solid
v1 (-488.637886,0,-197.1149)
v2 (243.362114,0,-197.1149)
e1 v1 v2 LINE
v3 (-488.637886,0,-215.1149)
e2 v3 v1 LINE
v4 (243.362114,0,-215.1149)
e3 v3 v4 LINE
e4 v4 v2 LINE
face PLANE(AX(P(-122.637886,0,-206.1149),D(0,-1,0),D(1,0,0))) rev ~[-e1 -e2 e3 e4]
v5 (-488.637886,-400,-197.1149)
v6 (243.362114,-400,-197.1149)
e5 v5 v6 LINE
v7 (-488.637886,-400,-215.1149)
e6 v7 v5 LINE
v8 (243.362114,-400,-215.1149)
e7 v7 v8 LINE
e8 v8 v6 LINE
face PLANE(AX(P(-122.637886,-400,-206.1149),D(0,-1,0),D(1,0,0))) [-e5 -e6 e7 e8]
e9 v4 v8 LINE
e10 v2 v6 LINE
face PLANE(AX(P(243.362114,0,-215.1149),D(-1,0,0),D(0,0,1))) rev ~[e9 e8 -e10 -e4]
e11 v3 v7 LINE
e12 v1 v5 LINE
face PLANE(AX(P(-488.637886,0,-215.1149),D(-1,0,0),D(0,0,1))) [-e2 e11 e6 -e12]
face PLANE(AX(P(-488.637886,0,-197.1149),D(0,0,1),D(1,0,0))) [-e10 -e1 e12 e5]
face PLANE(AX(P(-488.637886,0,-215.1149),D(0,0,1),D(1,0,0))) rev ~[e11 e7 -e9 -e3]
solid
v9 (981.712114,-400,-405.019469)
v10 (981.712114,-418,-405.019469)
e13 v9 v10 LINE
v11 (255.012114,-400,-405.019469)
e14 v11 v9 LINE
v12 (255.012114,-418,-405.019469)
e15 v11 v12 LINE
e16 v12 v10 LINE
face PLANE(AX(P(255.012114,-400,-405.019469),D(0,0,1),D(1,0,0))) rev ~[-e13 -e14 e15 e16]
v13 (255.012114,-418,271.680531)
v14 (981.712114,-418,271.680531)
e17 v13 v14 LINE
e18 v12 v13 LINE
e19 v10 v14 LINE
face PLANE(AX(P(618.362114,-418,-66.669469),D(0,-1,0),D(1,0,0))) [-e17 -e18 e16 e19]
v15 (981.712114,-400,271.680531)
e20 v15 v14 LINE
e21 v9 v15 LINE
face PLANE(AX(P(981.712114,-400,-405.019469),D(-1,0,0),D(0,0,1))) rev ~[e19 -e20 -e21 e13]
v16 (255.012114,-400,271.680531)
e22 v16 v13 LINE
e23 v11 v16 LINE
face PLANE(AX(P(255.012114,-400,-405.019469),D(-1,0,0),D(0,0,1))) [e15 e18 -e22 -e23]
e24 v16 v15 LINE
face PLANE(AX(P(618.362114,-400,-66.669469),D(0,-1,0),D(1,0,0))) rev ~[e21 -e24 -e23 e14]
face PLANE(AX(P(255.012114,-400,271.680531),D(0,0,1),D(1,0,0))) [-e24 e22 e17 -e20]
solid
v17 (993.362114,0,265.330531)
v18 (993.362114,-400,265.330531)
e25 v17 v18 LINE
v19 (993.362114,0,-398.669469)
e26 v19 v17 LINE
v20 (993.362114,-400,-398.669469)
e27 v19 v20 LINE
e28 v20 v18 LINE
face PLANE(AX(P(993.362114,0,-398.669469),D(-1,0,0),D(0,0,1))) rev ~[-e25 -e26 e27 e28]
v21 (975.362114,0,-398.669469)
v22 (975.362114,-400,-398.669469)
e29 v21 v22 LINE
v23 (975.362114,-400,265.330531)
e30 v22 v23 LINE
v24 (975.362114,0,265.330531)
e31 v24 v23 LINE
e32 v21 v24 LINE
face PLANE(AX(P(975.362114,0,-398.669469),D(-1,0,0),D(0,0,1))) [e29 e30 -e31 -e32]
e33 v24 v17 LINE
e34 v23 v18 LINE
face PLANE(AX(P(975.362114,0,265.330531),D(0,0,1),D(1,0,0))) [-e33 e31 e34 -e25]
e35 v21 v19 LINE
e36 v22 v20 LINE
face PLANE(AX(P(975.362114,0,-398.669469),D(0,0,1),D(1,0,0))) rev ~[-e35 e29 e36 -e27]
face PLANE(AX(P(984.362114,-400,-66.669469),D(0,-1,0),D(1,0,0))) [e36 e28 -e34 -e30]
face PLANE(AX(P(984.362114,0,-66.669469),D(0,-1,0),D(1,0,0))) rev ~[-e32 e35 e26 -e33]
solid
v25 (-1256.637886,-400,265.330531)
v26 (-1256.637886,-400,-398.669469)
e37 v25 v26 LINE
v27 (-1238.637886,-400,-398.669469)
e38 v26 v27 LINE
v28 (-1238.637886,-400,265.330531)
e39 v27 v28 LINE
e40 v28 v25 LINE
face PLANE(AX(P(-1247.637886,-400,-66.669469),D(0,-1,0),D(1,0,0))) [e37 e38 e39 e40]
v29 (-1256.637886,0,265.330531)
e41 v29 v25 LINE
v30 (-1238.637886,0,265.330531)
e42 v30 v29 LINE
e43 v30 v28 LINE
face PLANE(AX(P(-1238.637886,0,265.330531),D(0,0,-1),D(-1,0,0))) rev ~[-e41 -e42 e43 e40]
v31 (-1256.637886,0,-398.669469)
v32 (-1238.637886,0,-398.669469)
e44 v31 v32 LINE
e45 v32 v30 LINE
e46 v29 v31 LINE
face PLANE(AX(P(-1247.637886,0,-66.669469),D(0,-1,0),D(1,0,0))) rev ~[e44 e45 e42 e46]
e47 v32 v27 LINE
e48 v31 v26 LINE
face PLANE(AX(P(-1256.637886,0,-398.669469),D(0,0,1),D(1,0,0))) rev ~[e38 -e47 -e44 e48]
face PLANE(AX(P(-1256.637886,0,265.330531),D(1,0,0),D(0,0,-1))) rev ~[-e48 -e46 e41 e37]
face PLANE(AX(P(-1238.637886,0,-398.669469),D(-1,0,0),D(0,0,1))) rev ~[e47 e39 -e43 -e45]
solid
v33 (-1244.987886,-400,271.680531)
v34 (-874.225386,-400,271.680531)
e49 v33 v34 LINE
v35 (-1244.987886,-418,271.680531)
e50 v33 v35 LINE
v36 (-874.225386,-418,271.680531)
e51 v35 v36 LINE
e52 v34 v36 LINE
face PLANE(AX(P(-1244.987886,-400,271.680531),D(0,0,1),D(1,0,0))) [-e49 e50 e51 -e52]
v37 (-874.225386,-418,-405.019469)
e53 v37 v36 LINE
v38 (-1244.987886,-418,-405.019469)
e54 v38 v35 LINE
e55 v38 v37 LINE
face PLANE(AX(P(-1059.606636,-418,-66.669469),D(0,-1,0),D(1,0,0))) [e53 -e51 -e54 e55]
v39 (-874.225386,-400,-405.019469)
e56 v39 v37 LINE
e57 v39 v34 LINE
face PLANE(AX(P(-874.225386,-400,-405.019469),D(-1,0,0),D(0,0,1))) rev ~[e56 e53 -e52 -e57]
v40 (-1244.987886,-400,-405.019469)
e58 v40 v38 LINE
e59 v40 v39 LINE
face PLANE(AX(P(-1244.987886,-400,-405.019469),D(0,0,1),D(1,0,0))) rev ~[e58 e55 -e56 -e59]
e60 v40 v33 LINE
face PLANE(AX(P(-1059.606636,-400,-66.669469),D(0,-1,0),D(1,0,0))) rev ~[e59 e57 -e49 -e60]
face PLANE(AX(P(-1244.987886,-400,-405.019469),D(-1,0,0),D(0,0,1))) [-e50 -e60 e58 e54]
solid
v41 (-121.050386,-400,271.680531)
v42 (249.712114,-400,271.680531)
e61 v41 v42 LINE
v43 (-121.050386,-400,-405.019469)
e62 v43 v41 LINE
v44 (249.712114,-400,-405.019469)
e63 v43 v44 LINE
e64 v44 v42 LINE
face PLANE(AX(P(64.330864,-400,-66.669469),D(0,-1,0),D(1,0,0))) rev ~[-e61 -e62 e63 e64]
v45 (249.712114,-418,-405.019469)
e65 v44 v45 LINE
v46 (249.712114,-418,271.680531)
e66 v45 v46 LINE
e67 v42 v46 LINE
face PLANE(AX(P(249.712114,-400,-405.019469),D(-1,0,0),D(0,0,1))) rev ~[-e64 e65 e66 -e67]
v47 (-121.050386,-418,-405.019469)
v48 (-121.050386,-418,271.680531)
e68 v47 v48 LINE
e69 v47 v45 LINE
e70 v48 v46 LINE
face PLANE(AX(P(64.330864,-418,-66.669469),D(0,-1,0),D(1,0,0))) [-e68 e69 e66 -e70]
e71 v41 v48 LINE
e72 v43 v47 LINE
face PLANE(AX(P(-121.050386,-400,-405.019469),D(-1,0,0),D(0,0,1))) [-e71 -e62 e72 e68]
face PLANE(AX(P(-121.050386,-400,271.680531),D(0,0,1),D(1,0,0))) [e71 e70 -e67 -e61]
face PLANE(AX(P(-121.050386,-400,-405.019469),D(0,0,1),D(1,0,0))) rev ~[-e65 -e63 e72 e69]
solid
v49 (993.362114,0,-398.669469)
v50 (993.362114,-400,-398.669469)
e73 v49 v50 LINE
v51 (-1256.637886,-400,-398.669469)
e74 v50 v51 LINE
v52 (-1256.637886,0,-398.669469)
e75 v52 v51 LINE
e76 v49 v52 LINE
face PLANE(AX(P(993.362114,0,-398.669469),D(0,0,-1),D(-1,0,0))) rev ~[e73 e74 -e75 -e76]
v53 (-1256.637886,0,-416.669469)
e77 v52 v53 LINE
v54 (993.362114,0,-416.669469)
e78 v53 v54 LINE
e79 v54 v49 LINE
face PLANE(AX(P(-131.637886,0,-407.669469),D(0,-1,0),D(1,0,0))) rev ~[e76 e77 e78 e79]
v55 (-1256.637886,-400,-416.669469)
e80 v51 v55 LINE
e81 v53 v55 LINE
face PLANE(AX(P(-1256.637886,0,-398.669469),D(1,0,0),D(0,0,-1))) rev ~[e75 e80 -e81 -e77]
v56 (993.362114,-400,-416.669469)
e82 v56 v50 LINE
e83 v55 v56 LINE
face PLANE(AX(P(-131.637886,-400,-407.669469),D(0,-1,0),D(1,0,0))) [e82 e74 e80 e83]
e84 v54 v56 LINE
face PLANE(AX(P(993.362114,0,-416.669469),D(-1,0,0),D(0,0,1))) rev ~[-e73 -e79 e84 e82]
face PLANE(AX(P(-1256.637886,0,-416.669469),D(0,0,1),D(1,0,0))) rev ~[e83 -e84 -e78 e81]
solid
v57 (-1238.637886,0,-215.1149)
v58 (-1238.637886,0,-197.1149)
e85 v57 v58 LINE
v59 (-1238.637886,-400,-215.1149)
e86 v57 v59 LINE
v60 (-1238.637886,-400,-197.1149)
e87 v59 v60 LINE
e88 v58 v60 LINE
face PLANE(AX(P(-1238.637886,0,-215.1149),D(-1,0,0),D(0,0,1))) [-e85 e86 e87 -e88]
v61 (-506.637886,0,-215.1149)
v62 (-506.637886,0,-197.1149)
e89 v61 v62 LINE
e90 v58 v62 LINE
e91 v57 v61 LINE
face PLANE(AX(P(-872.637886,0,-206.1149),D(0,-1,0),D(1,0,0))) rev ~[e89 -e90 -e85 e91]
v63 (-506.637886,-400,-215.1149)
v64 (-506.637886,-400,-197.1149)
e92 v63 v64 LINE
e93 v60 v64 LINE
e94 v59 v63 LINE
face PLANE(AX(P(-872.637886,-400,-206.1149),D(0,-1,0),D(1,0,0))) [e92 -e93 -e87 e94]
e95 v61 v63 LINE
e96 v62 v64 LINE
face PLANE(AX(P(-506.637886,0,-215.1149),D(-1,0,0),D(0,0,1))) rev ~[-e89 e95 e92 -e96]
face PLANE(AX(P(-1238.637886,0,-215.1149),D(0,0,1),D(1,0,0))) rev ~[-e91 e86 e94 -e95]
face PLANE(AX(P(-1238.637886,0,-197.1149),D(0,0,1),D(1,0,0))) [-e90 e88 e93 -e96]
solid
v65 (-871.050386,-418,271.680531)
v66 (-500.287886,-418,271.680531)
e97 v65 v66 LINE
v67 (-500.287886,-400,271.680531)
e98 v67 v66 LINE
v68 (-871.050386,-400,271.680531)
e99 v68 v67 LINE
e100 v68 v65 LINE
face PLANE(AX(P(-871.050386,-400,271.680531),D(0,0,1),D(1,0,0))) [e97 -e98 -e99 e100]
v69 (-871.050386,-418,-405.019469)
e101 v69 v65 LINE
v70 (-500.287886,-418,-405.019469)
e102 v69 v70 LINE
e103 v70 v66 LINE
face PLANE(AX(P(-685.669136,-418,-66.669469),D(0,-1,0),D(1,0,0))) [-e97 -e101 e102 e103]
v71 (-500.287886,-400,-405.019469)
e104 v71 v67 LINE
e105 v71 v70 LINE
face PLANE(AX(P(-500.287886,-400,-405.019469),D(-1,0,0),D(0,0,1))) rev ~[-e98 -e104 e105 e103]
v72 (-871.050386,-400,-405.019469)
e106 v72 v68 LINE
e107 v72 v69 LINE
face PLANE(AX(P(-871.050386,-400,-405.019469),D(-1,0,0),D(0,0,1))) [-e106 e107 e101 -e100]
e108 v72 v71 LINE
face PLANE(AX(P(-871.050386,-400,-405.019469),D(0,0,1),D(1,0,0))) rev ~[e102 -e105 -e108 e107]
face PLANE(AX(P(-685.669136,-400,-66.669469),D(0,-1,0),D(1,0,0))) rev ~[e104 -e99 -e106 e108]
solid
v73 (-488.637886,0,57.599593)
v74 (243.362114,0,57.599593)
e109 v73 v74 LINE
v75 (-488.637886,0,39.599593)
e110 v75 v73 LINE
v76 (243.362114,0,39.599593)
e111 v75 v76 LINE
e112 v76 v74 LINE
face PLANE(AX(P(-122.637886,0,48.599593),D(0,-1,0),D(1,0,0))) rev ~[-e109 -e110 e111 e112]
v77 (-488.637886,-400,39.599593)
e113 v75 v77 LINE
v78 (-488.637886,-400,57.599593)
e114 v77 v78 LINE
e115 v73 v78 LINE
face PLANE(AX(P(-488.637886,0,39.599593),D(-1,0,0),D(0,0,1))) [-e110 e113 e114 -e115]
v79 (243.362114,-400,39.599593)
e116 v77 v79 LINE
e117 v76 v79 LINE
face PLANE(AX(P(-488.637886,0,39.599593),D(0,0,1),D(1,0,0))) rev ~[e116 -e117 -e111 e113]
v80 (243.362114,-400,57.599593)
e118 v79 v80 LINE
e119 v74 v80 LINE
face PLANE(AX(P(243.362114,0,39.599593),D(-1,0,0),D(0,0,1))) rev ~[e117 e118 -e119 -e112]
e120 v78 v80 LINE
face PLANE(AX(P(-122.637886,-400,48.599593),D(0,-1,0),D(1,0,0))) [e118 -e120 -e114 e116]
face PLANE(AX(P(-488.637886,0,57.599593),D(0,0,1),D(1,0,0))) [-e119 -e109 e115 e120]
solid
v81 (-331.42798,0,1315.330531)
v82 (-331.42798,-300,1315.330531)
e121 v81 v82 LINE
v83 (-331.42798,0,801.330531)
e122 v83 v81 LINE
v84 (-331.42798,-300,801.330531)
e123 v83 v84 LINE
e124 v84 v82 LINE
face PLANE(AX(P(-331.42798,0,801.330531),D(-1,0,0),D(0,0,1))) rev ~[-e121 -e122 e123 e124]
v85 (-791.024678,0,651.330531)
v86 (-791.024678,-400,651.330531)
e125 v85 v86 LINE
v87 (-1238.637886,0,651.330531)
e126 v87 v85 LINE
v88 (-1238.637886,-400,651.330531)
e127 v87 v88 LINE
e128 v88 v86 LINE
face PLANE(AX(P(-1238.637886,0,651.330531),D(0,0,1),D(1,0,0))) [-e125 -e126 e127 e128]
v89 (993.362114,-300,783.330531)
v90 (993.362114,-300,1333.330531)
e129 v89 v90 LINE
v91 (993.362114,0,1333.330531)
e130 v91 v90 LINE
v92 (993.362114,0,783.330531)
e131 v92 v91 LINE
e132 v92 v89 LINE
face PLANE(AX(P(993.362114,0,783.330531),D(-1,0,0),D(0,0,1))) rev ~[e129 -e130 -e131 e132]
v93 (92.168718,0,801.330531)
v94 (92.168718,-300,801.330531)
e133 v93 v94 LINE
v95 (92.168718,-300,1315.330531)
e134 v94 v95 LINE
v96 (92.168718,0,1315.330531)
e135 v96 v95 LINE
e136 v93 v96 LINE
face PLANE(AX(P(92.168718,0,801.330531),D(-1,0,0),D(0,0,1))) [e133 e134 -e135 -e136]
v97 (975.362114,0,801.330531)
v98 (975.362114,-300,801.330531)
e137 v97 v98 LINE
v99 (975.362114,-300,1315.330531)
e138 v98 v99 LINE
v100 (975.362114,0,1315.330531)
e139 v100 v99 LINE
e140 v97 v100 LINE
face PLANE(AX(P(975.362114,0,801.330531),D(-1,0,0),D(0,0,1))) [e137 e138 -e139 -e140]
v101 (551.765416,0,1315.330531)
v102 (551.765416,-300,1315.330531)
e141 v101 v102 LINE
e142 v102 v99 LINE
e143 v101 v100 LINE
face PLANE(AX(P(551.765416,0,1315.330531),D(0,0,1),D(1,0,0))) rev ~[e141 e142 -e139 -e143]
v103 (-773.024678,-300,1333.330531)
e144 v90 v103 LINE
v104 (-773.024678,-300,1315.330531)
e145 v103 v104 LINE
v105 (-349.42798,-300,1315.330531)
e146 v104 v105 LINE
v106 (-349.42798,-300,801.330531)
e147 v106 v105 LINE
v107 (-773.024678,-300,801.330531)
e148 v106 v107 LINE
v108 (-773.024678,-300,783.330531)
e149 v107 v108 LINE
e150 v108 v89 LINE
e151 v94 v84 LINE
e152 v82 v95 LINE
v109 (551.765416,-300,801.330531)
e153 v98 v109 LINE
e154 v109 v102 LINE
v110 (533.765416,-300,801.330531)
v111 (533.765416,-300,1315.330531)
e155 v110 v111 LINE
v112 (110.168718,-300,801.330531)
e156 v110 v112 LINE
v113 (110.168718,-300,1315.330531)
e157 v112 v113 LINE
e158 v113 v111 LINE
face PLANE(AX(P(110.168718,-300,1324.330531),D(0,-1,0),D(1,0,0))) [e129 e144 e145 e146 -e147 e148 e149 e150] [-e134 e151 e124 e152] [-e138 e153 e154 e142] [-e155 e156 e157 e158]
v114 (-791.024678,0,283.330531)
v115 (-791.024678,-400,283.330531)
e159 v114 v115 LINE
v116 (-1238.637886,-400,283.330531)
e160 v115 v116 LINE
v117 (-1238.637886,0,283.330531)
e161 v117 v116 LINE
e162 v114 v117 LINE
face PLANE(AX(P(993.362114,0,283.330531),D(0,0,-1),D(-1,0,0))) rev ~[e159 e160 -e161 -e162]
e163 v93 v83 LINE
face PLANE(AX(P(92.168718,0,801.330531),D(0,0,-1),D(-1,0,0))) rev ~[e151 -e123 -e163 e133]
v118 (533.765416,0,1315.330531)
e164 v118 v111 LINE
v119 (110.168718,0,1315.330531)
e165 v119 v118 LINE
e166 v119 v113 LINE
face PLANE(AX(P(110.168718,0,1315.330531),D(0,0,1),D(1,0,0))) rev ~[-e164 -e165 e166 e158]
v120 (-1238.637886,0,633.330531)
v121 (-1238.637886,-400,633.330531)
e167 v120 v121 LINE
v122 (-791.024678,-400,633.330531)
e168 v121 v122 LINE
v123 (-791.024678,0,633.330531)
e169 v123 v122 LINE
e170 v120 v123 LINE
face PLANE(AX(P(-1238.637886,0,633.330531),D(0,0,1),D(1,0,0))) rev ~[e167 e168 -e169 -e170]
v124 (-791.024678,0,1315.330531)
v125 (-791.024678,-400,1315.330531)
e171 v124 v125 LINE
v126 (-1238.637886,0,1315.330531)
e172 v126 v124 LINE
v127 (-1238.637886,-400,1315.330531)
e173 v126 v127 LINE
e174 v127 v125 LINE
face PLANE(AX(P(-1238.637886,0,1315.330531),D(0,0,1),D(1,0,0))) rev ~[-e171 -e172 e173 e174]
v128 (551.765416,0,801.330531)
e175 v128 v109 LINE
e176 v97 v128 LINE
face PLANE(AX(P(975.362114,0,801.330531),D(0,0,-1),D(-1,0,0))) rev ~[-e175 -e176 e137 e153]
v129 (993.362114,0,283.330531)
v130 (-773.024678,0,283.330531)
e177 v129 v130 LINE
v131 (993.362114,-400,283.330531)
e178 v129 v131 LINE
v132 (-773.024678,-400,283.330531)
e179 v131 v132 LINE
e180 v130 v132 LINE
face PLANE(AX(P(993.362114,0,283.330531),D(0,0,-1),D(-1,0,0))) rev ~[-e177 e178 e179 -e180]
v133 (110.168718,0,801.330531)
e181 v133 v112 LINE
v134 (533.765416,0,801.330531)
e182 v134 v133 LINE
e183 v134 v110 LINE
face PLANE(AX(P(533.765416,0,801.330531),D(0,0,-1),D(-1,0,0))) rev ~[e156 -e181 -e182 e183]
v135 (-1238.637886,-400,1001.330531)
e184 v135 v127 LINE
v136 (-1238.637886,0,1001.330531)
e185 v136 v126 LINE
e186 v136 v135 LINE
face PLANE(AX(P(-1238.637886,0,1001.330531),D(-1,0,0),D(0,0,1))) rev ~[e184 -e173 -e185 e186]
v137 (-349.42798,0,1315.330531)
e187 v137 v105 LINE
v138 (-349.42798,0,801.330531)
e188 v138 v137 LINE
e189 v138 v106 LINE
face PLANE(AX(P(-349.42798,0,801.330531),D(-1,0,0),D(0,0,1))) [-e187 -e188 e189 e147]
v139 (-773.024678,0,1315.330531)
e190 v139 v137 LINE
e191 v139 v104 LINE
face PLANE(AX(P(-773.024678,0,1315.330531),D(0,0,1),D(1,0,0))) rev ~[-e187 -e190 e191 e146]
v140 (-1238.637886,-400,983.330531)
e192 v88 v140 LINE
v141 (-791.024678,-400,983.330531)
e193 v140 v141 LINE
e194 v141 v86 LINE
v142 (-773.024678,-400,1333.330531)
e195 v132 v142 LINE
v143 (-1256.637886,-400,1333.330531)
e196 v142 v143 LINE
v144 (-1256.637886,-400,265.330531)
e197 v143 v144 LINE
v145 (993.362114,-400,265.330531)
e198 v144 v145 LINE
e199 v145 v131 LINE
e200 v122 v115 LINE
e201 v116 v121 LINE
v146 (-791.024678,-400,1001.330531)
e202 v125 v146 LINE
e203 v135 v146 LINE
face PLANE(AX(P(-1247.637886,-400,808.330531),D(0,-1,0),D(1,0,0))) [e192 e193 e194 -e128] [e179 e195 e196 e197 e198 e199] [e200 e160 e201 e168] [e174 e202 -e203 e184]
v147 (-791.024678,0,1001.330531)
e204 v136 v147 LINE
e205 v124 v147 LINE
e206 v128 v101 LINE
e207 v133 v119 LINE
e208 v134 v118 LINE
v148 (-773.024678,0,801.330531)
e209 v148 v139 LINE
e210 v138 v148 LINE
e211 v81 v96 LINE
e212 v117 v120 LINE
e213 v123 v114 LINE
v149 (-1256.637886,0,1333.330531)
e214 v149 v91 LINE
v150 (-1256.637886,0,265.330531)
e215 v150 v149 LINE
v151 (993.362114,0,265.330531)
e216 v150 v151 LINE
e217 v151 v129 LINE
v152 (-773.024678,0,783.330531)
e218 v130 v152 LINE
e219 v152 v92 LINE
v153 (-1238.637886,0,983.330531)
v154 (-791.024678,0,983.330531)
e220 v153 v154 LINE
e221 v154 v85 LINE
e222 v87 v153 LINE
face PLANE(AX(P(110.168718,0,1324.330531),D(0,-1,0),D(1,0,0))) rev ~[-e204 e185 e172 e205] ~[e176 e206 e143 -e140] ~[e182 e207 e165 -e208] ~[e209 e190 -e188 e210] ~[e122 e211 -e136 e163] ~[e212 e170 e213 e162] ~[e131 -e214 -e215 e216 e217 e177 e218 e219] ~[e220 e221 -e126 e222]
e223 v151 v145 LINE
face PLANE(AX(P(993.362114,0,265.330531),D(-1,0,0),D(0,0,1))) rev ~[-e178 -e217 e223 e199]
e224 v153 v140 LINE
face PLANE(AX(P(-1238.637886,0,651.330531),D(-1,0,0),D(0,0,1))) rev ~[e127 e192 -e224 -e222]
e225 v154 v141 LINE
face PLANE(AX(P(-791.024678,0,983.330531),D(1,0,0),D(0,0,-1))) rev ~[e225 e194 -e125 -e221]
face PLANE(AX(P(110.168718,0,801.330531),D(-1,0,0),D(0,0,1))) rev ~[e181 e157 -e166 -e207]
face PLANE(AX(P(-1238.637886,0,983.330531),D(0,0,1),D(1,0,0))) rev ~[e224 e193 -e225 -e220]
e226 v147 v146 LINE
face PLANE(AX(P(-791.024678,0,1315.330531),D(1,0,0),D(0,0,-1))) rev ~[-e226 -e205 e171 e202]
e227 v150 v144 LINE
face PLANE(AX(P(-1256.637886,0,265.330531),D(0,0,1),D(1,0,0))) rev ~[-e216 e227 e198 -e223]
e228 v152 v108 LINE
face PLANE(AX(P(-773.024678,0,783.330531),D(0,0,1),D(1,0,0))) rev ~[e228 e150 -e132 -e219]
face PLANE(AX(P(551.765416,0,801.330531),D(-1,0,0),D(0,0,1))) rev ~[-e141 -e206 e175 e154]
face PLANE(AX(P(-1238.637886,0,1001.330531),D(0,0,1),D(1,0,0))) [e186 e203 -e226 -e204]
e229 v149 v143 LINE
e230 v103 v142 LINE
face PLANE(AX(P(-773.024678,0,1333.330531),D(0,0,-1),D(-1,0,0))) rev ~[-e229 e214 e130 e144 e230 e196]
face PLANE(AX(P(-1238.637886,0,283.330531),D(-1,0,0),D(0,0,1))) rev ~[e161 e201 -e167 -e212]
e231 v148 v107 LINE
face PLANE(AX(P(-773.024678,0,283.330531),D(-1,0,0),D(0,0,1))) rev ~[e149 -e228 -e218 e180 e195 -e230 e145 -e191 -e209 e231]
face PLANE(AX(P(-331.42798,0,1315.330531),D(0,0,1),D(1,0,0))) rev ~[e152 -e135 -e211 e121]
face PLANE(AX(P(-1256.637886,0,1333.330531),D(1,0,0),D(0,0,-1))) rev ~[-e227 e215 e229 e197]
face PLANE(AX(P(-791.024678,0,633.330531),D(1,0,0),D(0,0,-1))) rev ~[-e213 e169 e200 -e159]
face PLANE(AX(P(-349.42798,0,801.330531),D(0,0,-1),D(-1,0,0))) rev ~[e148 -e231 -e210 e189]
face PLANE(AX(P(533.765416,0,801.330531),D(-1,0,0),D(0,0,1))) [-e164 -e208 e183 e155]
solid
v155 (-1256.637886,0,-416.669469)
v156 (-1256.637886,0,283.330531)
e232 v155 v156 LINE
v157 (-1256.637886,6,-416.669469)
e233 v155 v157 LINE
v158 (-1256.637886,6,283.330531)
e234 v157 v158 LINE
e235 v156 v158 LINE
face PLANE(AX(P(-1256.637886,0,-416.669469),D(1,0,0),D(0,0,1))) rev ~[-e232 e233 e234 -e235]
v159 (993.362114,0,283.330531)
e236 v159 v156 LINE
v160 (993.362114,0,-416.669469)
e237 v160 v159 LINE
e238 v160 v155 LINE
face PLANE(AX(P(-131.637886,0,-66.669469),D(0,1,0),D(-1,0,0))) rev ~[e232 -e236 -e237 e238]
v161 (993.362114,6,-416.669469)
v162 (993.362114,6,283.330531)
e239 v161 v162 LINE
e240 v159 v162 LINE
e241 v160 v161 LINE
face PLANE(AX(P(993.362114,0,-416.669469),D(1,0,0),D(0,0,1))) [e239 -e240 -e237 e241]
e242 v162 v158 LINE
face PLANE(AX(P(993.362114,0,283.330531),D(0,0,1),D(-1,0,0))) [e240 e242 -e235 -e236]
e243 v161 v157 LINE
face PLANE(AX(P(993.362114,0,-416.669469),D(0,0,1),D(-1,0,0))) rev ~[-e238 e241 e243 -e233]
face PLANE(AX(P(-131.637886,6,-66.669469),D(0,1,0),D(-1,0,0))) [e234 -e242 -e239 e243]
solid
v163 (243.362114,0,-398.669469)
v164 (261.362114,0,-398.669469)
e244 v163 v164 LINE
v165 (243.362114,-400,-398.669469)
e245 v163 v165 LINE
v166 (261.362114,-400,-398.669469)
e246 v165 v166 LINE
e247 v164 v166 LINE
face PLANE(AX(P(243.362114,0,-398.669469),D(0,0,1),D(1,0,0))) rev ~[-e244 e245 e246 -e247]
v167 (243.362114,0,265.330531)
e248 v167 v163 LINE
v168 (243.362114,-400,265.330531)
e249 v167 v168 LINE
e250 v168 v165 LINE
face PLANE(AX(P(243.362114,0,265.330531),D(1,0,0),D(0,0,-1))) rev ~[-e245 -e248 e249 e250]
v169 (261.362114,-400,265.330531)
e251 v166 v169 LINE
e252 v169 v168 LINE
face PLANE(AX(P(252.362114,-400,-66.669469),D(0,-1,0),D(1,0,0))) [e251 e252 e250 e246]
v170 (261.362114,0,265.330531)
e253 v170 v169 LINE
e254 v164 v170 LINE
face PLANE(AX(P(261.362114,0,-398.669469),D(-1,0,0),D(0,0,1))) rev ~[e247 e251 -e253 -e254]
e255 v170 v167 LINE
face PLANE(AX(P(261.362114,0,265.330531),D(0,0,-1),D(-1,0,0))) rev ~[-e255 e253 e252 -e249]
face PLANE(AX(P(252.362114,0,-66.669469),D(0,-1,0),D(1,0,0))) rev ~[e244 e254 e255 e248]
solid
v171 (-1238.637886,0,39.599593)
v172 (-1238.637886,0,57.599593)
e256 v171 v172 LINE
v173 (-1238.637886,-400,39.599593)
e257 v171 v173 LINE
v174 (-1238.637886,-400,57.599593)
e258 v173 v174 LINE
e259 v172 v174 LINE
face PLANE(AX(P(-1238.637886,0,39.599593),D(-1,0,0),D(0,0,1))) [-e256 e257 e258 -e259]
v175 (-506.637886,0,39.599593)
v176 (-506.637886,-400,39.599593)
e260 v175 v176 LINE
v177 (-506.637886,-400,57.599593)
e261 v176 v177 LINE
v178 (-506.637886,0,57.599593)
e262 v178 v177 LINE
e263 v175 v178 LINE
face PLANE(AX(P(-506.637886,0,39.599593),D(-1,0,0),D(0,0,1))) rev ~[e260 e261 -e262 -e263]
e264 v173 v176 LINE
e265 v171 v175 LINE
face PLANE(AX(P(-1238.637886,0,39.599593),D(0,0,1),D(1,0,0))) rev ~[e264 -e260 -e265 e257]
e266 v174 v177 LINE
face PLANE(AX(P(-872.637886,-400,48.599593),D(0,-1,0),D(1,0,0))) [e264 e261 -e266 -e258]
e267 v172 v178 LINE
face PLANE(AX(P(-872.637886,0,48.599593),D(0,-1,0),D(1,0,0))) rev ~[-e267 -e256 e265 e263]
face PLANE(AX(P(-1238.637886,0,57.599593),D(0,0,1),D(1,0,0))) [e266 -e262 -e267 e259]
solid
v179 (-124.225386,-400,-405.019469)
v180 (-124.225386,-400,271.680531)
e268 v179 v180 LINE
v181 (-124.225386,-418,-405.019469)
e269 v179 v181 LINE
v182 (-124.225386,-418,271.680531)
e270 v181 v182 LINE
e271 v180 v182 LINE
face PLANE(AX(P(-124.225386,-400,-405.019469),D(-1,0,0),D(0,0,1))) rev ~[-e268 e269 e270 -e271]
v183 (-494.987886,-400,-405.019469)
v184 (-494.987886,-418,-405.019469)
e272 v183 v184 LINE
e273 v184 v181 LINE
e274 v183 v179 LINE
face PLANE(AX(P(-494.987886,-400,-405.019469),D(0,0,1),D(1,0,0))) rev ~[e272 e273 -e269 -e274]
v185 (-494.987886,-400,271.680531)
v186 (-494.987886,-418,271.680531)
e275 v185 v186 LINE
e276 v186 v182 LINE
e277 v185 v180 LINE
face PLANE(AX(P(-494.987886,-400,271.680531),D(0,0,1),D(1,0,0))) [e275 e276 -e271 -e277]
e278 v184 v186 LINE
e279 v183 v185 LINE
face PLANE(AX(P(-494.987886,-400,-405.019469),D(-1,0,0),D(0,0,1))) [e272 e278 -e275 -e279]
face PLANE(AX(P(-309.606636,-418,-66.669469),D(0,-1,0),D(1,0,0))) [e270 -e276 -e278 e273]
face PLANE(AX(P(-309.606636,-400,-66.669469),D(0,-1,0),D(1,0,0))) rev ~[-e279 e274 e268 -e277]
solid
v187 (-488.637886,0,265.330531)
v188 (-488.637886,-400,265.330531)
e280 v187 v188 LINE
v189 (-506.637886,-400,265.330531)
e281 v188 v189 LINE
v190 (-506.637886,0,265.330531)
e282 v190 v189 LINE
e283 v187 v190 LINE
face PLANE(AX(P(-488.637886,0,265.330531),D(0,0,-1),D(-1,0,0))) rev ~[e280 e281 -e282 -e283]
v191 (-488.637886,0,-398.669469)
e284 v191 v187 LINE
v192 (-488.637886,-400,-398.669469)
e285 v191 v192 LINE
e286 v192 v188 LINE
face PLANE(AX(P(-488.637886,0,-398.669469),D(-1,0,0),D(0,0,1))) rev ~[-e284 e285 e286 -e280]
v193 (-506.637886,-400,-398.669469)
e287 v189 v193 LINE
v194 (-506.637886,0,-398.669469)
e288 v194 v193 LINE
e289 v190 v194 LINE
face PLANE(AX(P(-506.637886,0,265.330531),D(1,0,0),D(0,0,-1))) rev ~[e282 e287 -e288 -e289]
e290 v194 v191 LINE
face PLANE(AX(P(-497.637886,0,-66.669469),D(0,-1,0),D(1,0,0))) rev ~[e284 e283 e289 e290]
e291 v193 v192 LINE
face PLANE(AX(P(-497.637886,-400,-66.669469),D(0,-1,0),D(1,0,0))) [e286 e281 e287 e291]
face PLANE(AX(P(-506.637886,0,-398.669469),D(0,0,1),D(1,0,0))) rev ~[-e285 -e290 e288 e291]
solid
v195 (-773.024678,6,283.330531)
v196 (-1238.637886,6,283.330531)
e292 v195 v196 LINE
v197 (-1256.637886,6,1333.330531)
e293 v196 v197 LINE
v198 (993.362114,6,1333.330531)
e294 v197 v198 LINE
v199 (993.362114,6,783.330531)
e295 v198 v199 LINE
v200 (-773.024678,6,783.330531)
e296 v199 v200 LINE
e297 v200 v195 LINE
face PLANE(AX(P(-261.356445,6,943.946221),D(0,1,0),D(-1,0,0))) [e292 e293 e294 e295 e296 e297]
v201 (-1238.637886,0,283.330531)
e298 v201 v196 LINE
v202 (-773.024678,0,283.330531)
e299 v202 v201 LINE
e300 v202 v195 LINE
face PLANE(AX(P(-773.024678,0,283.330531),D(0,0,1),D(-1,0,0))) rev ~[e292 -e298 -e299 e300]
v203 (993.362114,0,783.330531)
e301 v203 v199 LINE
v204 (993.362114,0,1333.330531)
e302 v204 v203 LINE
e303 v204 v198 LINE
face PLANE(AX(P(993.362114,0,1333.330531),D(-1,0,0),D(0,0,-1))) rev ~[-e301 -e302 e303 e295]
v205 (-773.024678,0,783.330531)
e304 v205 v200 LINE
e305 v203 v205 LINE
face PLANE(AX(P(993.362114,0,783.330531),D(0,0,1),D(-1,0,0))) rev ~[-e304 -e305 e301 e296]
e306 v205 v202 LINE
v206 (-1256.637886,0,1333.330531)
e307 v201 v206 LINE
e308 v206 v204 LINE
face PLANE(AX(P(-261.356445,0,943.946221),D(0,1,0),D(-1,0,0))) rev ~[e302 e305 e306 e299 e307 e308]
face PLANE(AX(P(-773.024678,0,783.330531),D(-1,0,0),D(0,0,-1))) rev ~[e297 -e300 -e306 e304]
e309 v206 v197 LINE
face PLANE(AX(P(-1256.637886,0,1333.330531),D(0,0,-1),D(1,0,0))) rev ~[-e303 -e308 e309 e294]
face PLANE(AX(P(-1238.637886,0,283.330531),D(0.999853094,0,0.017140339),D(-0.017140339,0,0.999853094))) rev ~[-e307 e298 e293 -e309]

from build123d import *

# Parameters (mm, degrees)
F1_DEPTH  = 400
F2_DEPTH  = 400
F3_DEPTH  = 400
F0_W      = 18
F0_H      = 664
F4_DEPTH  = 400
F5_DEPTH  = 400
F0_W_2    = 732
F0_H_2    = 18
F6_DEPTH  = 400
F7_DEPTH  = 400
F8_DEPTH  = 400
F9_DEPTH  = 400
F10_DEPTH = 400
F11_W     = 2250
F11_H     = 700
F12_DEPTH = 6
F13_W     = 370.7625
F13_H     = 676.7
F14_DEPTH = 18
F15_W     = 726.7
F15_H     = 676.7
F16_DEPTH = 18
F17_W     = 447.6132079363
F17_H     = 18
F18_DEPTH = 400
F17_W_2   = 18
F17_H_2   = 514
F19_DEPTH = 300
F21_DEPTH = 6


with BuildPart() as f1:
    # F0 (on Front) → F1 (new body)
    with BuildSketch(Plane.XZ):
        Polygon((993.3621138334, 283.330530931), (-1256.6378861666, 283.330530931), (-1256.6378861666, 265.330530931), (-1238.6378861666, 265.330530931), (-506.6378861666, 265.330530931), (-488.6378861666, 265.330530931), (243.3621138334, 265.330530931), (261.3621138334, 265.330530931), (975.3621138334, 265.330530931), (993.3621138334, 265.330530931), align=None)
    extrude(amount=F1_DEPTH)

    # F17 (on face) → F18 (join)
    with BuildSketch(Plane.XZ):
        Polygon((-1256.6378861666, 630.8754682541), (-1256.6378861666, 283.330530931), (-1238.6378861666, 283.330530931), (-1238.6378861666, 630.8754682541), (-1238.6378861666, 633.330530931), (-1238.6378861666, 651.330530931), (-1238.6378861666, 983.330530931), (-1238.6378861666, 1001.330530931), (-1238.6378861666, 1315.330530931), (-1238.6378861666, 1333.330530931), (-1256.6378861666, 1333.330530931), align=None)
        with Locations((-1014.8312821984, 1324.330530931)):
            Rectangle(F17_W, F17_H)
        Polygon((-791.0246782303, 301.330530931), (-791.0246782303, 283.330530931), (-773.0246782303, 283.330530931), (-773.0246782303, 301.330530931), (-773.0246782303, 783.330530931), (-773.0246782303, 801.330530931), (-773.0246782303, 1315.330530931), (-773.0246782303, 1333.330530931), (-791.0246782303, 1333.330530931), (-791.0246782303, 1315.330530931), (-791.0246782303, 1001.330530931), (-791.0246782303, 983.330530931), (-791.0246782303, 651.330530931), (-791.0246782303, 633.330530931), align=None)
        with Locations((-1014.8312821984, 992.330530931)):
            Rectangle(F17_W, F17_H)
        with Locations((-1014.8312821984, 642.330530931)):
            Rectangle(F17_W, F17_H)
    extrude(amount=F18_DEPTH)

    # F17 (on face) → F19 (join)
    with BuildSketch(Plane.XZ):
        Polygon((110.1687178016, 1333.330530931), (-773.0246782303, 1333.330530931), (-773.0246782303, 1315.330530931), (-349.4279802144, 1315.330530931), (-331.4279802144, 1315.330530931), (92.1687178016, 1315.330530931), (110.1687178016, 1315.330530931), (533.7654158175, 1315.330530931), (551.7654158175, 1315.330530931), (975.3621138334, 1315.330530931), (993.3621138334, 1315.330530931), (993.3621138334, 1333.330530931), align=None)
        Polygon((975.3621138334, 783.330530931), (993.3621138334, 783.330530931), (993.3621138334, 801.330530931), (975.3621138334, 801.330530931), (551.7654158175, 801.330530931), (533.7654158175, 801.330530931), (110.1687178016, 801.330530931), (92.1687178016, 801.330530931), (-331.4279802144, 801.330530931), (-349.4279802144, 801.330530931), (-773.0246782303, 801.330530931), (-773.0246782303, 783.330530931), (110.1687178016, 783.330530931), align=None)
        with Locations((-340.4279802144, 1058.330530931)):
            Rectangle(F17_W_2, F17_H_2)
        with Locations((101.1687178016, 1058.330530931)):
            Rectangle(F17_W_2, F17_H_2)
        with Locations((542.7654158175, 1058.330530931)):
            Rectangle(F17_W_2, F17_H_2)
        with Locations((984.3621138334, 1058.330530931)):
            Rectangle(F17_W_2, F17_H_2)
    extrude(amount=F19_DEPTH)


with BuildPart() as f2:
    # F0 (on Front) → F2 (new body)
    with BuildSketch(Plane.XZ):
        Polygon((-1238.6378861666, -398.669469069), (-1256.6378861666, -398.669469069), (-1256.6378861666, -416.669469069), (993.3621138334, -416.669469069), (993.3621138334, -398.669469069), (975.3621138334, -398.669469069), (261.3621138334, -398.669469069), (243.3621138334, -398.669469069), (-488.6378861666, -398.669469069), (-506.6378861666, -398.669469069), align=None)
    extrude(amount=F2_DEPTH)


with BuildPart() as f3:
    # F0 (on Front) → F3 (new body)
    with BuildSketch(Plane.XZ):
        Polygon((-1238.6378861666, 265.330530931), (-1256.6378861666, 265.330530931), (-1256.6378861666, -398.669469069), (-1238.6378861666, -398.669469069), (-1238.6378861666, -215.1148997545), (-1238.6378861666, -197.1148997545), (-1238.6378861666, 39.5995929539), (-1238.6378861666, 57.5995929539), align=None)
    extrude(amount=F3_DEPTH)


with BuildPart() as f4:
    # F0 (on Front) → F4 (new body)
    with BuildSketch(Plane.XZ):
        with Locations((984.3621138334, -66.669469069)):
            Rectangle(F0_W, F0_H)
    extrude(amount=F4_DEPTH)


with BuildPart() as f5:
    # F0 (on Front) → F5 (new body)
    with BuildSketch(Plane.XZ):
        Polygon((-488.6378861666, 265.330530931), (-506.6378861666, 265.330530931), (-506.6378861666, 57.5995929539), (-506.6378861666, 39.5995929539), (-506.6378861666, -197.1148997545), (-506.6378861666, -215.1148997545), (-506.6378861666, -398.669469069), (-488.6378861666, -398.669469069), (-488.6378861666, -215.1148997545), (-488.6378861666, -197.1148997545), (-488.6378861666, 39.5995929539), (-488.6378861666, 57.5995929539), align=None)
    extrude(amount=F5_DEPTH)


with BuildPart() as f6:
    # F0 (on Front) → F6 (new body)
    with BuildSketch(Plane.XZ):
        with Locations((-872.6378861666, -206.1148997545)):
            Rectangle(F0_W_2, F0_H_2)
    extrude(amount=F6_DEPTH)


with BuildPart() as f7:
    # F0 (on Front) → F7 (new body)
    with BuildSketch(Plane.XZ):
        with Locations((-872.6378861666, 48.5995929539)):
            Rectangle(F0_W_2, F0_H_2)
    extrude(amount=F7_DEPTH)


with BuildPart() as f8:
    # F0 (on Front) → F8 (new body)
    with BuildSketch(Plane.XZ):
        with Locations((-122.6378861666, 48.5995929539)):
            Rectangle(F0_W_2, F0_H_2)
    extrude(amount=F8_DEPTH)


with BuildPart() as f9:
    # F0 (on Front) → F9 (new body)
    with BuildSketch(Plane.XZ):
        with Locations((-122.6378861666, -206.1148997545)):
            Rectangle(F0_W_2, F0_H_2)
    extrude(amount=F9_DEPTH)


with BuildPart() as f10:
    # F0 (on Front) → F10 (new body)
    with BuildSketch(Plane.XZ):
        Polygon((261.3621138334, -398.669469069), (261.3621138334, 265.330530931), (243.3621138334, 265.330530931), (243.3621138334, 57.5995929539), (243.3621138334, 39.5995929539), (243.3621138334, -197.1148997545), (243.3621138334, -215.1148997545), (243.3621138334, -398.669469069), align=None)
    extrude(amount=F10_DEPTH)


with BuildPart() as f12:
    # F11 (on face) → F12 (new body)
    with BuildSketch(Plane(origin=(0, 0, 0), x_dir=(-1, 0, 0), z_dir=(0, 1, 0))):
        with Locations((131.6378861666, -66.669469069)):
            Rectangle(F11_W, F11_H)
    extrude(amount=F12_DEPTH)


with BuildPart() as f14:
    # F13 (on face) → F14 (new body)
    with BuildSketch(Plane.XZ.offset(400)):
        with Locations((-1059.6066361666, -66.669469069)):
            Rectangle(F13_W, F13_H)
    extrude(amount=F14_DEPTH)


with BuildPart() as f14b:
    # F13 (on face) → F14, piece 2 (new body)
    with BuildSketch(Plane.XZ.offset(400)):
        with Locations((-685.6691361666, -66.669469069)):
            Rectangle(F13_W, F13_H)
    extrude(amount=F14_DEPTH)


with BuildPart() as f14c:
    # F13 (on face) → F14, piece 3 (new body)
    with BuildSketch(Plane.XZ.offset(400)):
        with Locations((-309.6066361666, -66.669469069)):
            Rectangle(F13_W, F13_H)
    extrude(amount=F14_DEPTH)


with BuildPart() as f14d:
    # F13 (on face) → F14, piece 4 (new body)
    with BuildSketch(Plane.XZ.offset(400)):
        with Locations((64.3308638334, -66.669469069)):
            Rectangle(F13_W, F13_H)
    extrude(amount=F14_DEPTH)


with BuildPart() as f16:
    # F15 (on face) → F16 (new body)
    with BuildSketch(Plane.XZ.offset(400)):
        with Locations((618.3621138334, -66.669469069)):
            Rectangle(F15_W, F15_H)
    extrude(amount=F16_DEPTH)


with BuildPart() as f21:
    # F20 (on face) → F21 (new body)
    with BuildSketch(Plane(origin=(0, 0, 0), x_dir=(-1, 0, 0), z_dir=(0, 1, 0))):
        Polygon((1256.6378861666, 1333.330530931), (-993.3621138334, 1333.330530931), (-993.3621138334, 783.330530931), (773.0246782303, 783.330530931), (773.0246782303, 283.330530931), (1238.6378861666, 283.330530931), align=None)
    extrude(amount=F21_DEPTH)


solid = Compound([f1.part, f2.part, f3.part, f4.part, f5.part, f6.part, f7.part, f8.part, f9.part, f10.part, f12.part, f14.part, f14b.part, f14c.part, f14d.part, f16.part, f21.part])
